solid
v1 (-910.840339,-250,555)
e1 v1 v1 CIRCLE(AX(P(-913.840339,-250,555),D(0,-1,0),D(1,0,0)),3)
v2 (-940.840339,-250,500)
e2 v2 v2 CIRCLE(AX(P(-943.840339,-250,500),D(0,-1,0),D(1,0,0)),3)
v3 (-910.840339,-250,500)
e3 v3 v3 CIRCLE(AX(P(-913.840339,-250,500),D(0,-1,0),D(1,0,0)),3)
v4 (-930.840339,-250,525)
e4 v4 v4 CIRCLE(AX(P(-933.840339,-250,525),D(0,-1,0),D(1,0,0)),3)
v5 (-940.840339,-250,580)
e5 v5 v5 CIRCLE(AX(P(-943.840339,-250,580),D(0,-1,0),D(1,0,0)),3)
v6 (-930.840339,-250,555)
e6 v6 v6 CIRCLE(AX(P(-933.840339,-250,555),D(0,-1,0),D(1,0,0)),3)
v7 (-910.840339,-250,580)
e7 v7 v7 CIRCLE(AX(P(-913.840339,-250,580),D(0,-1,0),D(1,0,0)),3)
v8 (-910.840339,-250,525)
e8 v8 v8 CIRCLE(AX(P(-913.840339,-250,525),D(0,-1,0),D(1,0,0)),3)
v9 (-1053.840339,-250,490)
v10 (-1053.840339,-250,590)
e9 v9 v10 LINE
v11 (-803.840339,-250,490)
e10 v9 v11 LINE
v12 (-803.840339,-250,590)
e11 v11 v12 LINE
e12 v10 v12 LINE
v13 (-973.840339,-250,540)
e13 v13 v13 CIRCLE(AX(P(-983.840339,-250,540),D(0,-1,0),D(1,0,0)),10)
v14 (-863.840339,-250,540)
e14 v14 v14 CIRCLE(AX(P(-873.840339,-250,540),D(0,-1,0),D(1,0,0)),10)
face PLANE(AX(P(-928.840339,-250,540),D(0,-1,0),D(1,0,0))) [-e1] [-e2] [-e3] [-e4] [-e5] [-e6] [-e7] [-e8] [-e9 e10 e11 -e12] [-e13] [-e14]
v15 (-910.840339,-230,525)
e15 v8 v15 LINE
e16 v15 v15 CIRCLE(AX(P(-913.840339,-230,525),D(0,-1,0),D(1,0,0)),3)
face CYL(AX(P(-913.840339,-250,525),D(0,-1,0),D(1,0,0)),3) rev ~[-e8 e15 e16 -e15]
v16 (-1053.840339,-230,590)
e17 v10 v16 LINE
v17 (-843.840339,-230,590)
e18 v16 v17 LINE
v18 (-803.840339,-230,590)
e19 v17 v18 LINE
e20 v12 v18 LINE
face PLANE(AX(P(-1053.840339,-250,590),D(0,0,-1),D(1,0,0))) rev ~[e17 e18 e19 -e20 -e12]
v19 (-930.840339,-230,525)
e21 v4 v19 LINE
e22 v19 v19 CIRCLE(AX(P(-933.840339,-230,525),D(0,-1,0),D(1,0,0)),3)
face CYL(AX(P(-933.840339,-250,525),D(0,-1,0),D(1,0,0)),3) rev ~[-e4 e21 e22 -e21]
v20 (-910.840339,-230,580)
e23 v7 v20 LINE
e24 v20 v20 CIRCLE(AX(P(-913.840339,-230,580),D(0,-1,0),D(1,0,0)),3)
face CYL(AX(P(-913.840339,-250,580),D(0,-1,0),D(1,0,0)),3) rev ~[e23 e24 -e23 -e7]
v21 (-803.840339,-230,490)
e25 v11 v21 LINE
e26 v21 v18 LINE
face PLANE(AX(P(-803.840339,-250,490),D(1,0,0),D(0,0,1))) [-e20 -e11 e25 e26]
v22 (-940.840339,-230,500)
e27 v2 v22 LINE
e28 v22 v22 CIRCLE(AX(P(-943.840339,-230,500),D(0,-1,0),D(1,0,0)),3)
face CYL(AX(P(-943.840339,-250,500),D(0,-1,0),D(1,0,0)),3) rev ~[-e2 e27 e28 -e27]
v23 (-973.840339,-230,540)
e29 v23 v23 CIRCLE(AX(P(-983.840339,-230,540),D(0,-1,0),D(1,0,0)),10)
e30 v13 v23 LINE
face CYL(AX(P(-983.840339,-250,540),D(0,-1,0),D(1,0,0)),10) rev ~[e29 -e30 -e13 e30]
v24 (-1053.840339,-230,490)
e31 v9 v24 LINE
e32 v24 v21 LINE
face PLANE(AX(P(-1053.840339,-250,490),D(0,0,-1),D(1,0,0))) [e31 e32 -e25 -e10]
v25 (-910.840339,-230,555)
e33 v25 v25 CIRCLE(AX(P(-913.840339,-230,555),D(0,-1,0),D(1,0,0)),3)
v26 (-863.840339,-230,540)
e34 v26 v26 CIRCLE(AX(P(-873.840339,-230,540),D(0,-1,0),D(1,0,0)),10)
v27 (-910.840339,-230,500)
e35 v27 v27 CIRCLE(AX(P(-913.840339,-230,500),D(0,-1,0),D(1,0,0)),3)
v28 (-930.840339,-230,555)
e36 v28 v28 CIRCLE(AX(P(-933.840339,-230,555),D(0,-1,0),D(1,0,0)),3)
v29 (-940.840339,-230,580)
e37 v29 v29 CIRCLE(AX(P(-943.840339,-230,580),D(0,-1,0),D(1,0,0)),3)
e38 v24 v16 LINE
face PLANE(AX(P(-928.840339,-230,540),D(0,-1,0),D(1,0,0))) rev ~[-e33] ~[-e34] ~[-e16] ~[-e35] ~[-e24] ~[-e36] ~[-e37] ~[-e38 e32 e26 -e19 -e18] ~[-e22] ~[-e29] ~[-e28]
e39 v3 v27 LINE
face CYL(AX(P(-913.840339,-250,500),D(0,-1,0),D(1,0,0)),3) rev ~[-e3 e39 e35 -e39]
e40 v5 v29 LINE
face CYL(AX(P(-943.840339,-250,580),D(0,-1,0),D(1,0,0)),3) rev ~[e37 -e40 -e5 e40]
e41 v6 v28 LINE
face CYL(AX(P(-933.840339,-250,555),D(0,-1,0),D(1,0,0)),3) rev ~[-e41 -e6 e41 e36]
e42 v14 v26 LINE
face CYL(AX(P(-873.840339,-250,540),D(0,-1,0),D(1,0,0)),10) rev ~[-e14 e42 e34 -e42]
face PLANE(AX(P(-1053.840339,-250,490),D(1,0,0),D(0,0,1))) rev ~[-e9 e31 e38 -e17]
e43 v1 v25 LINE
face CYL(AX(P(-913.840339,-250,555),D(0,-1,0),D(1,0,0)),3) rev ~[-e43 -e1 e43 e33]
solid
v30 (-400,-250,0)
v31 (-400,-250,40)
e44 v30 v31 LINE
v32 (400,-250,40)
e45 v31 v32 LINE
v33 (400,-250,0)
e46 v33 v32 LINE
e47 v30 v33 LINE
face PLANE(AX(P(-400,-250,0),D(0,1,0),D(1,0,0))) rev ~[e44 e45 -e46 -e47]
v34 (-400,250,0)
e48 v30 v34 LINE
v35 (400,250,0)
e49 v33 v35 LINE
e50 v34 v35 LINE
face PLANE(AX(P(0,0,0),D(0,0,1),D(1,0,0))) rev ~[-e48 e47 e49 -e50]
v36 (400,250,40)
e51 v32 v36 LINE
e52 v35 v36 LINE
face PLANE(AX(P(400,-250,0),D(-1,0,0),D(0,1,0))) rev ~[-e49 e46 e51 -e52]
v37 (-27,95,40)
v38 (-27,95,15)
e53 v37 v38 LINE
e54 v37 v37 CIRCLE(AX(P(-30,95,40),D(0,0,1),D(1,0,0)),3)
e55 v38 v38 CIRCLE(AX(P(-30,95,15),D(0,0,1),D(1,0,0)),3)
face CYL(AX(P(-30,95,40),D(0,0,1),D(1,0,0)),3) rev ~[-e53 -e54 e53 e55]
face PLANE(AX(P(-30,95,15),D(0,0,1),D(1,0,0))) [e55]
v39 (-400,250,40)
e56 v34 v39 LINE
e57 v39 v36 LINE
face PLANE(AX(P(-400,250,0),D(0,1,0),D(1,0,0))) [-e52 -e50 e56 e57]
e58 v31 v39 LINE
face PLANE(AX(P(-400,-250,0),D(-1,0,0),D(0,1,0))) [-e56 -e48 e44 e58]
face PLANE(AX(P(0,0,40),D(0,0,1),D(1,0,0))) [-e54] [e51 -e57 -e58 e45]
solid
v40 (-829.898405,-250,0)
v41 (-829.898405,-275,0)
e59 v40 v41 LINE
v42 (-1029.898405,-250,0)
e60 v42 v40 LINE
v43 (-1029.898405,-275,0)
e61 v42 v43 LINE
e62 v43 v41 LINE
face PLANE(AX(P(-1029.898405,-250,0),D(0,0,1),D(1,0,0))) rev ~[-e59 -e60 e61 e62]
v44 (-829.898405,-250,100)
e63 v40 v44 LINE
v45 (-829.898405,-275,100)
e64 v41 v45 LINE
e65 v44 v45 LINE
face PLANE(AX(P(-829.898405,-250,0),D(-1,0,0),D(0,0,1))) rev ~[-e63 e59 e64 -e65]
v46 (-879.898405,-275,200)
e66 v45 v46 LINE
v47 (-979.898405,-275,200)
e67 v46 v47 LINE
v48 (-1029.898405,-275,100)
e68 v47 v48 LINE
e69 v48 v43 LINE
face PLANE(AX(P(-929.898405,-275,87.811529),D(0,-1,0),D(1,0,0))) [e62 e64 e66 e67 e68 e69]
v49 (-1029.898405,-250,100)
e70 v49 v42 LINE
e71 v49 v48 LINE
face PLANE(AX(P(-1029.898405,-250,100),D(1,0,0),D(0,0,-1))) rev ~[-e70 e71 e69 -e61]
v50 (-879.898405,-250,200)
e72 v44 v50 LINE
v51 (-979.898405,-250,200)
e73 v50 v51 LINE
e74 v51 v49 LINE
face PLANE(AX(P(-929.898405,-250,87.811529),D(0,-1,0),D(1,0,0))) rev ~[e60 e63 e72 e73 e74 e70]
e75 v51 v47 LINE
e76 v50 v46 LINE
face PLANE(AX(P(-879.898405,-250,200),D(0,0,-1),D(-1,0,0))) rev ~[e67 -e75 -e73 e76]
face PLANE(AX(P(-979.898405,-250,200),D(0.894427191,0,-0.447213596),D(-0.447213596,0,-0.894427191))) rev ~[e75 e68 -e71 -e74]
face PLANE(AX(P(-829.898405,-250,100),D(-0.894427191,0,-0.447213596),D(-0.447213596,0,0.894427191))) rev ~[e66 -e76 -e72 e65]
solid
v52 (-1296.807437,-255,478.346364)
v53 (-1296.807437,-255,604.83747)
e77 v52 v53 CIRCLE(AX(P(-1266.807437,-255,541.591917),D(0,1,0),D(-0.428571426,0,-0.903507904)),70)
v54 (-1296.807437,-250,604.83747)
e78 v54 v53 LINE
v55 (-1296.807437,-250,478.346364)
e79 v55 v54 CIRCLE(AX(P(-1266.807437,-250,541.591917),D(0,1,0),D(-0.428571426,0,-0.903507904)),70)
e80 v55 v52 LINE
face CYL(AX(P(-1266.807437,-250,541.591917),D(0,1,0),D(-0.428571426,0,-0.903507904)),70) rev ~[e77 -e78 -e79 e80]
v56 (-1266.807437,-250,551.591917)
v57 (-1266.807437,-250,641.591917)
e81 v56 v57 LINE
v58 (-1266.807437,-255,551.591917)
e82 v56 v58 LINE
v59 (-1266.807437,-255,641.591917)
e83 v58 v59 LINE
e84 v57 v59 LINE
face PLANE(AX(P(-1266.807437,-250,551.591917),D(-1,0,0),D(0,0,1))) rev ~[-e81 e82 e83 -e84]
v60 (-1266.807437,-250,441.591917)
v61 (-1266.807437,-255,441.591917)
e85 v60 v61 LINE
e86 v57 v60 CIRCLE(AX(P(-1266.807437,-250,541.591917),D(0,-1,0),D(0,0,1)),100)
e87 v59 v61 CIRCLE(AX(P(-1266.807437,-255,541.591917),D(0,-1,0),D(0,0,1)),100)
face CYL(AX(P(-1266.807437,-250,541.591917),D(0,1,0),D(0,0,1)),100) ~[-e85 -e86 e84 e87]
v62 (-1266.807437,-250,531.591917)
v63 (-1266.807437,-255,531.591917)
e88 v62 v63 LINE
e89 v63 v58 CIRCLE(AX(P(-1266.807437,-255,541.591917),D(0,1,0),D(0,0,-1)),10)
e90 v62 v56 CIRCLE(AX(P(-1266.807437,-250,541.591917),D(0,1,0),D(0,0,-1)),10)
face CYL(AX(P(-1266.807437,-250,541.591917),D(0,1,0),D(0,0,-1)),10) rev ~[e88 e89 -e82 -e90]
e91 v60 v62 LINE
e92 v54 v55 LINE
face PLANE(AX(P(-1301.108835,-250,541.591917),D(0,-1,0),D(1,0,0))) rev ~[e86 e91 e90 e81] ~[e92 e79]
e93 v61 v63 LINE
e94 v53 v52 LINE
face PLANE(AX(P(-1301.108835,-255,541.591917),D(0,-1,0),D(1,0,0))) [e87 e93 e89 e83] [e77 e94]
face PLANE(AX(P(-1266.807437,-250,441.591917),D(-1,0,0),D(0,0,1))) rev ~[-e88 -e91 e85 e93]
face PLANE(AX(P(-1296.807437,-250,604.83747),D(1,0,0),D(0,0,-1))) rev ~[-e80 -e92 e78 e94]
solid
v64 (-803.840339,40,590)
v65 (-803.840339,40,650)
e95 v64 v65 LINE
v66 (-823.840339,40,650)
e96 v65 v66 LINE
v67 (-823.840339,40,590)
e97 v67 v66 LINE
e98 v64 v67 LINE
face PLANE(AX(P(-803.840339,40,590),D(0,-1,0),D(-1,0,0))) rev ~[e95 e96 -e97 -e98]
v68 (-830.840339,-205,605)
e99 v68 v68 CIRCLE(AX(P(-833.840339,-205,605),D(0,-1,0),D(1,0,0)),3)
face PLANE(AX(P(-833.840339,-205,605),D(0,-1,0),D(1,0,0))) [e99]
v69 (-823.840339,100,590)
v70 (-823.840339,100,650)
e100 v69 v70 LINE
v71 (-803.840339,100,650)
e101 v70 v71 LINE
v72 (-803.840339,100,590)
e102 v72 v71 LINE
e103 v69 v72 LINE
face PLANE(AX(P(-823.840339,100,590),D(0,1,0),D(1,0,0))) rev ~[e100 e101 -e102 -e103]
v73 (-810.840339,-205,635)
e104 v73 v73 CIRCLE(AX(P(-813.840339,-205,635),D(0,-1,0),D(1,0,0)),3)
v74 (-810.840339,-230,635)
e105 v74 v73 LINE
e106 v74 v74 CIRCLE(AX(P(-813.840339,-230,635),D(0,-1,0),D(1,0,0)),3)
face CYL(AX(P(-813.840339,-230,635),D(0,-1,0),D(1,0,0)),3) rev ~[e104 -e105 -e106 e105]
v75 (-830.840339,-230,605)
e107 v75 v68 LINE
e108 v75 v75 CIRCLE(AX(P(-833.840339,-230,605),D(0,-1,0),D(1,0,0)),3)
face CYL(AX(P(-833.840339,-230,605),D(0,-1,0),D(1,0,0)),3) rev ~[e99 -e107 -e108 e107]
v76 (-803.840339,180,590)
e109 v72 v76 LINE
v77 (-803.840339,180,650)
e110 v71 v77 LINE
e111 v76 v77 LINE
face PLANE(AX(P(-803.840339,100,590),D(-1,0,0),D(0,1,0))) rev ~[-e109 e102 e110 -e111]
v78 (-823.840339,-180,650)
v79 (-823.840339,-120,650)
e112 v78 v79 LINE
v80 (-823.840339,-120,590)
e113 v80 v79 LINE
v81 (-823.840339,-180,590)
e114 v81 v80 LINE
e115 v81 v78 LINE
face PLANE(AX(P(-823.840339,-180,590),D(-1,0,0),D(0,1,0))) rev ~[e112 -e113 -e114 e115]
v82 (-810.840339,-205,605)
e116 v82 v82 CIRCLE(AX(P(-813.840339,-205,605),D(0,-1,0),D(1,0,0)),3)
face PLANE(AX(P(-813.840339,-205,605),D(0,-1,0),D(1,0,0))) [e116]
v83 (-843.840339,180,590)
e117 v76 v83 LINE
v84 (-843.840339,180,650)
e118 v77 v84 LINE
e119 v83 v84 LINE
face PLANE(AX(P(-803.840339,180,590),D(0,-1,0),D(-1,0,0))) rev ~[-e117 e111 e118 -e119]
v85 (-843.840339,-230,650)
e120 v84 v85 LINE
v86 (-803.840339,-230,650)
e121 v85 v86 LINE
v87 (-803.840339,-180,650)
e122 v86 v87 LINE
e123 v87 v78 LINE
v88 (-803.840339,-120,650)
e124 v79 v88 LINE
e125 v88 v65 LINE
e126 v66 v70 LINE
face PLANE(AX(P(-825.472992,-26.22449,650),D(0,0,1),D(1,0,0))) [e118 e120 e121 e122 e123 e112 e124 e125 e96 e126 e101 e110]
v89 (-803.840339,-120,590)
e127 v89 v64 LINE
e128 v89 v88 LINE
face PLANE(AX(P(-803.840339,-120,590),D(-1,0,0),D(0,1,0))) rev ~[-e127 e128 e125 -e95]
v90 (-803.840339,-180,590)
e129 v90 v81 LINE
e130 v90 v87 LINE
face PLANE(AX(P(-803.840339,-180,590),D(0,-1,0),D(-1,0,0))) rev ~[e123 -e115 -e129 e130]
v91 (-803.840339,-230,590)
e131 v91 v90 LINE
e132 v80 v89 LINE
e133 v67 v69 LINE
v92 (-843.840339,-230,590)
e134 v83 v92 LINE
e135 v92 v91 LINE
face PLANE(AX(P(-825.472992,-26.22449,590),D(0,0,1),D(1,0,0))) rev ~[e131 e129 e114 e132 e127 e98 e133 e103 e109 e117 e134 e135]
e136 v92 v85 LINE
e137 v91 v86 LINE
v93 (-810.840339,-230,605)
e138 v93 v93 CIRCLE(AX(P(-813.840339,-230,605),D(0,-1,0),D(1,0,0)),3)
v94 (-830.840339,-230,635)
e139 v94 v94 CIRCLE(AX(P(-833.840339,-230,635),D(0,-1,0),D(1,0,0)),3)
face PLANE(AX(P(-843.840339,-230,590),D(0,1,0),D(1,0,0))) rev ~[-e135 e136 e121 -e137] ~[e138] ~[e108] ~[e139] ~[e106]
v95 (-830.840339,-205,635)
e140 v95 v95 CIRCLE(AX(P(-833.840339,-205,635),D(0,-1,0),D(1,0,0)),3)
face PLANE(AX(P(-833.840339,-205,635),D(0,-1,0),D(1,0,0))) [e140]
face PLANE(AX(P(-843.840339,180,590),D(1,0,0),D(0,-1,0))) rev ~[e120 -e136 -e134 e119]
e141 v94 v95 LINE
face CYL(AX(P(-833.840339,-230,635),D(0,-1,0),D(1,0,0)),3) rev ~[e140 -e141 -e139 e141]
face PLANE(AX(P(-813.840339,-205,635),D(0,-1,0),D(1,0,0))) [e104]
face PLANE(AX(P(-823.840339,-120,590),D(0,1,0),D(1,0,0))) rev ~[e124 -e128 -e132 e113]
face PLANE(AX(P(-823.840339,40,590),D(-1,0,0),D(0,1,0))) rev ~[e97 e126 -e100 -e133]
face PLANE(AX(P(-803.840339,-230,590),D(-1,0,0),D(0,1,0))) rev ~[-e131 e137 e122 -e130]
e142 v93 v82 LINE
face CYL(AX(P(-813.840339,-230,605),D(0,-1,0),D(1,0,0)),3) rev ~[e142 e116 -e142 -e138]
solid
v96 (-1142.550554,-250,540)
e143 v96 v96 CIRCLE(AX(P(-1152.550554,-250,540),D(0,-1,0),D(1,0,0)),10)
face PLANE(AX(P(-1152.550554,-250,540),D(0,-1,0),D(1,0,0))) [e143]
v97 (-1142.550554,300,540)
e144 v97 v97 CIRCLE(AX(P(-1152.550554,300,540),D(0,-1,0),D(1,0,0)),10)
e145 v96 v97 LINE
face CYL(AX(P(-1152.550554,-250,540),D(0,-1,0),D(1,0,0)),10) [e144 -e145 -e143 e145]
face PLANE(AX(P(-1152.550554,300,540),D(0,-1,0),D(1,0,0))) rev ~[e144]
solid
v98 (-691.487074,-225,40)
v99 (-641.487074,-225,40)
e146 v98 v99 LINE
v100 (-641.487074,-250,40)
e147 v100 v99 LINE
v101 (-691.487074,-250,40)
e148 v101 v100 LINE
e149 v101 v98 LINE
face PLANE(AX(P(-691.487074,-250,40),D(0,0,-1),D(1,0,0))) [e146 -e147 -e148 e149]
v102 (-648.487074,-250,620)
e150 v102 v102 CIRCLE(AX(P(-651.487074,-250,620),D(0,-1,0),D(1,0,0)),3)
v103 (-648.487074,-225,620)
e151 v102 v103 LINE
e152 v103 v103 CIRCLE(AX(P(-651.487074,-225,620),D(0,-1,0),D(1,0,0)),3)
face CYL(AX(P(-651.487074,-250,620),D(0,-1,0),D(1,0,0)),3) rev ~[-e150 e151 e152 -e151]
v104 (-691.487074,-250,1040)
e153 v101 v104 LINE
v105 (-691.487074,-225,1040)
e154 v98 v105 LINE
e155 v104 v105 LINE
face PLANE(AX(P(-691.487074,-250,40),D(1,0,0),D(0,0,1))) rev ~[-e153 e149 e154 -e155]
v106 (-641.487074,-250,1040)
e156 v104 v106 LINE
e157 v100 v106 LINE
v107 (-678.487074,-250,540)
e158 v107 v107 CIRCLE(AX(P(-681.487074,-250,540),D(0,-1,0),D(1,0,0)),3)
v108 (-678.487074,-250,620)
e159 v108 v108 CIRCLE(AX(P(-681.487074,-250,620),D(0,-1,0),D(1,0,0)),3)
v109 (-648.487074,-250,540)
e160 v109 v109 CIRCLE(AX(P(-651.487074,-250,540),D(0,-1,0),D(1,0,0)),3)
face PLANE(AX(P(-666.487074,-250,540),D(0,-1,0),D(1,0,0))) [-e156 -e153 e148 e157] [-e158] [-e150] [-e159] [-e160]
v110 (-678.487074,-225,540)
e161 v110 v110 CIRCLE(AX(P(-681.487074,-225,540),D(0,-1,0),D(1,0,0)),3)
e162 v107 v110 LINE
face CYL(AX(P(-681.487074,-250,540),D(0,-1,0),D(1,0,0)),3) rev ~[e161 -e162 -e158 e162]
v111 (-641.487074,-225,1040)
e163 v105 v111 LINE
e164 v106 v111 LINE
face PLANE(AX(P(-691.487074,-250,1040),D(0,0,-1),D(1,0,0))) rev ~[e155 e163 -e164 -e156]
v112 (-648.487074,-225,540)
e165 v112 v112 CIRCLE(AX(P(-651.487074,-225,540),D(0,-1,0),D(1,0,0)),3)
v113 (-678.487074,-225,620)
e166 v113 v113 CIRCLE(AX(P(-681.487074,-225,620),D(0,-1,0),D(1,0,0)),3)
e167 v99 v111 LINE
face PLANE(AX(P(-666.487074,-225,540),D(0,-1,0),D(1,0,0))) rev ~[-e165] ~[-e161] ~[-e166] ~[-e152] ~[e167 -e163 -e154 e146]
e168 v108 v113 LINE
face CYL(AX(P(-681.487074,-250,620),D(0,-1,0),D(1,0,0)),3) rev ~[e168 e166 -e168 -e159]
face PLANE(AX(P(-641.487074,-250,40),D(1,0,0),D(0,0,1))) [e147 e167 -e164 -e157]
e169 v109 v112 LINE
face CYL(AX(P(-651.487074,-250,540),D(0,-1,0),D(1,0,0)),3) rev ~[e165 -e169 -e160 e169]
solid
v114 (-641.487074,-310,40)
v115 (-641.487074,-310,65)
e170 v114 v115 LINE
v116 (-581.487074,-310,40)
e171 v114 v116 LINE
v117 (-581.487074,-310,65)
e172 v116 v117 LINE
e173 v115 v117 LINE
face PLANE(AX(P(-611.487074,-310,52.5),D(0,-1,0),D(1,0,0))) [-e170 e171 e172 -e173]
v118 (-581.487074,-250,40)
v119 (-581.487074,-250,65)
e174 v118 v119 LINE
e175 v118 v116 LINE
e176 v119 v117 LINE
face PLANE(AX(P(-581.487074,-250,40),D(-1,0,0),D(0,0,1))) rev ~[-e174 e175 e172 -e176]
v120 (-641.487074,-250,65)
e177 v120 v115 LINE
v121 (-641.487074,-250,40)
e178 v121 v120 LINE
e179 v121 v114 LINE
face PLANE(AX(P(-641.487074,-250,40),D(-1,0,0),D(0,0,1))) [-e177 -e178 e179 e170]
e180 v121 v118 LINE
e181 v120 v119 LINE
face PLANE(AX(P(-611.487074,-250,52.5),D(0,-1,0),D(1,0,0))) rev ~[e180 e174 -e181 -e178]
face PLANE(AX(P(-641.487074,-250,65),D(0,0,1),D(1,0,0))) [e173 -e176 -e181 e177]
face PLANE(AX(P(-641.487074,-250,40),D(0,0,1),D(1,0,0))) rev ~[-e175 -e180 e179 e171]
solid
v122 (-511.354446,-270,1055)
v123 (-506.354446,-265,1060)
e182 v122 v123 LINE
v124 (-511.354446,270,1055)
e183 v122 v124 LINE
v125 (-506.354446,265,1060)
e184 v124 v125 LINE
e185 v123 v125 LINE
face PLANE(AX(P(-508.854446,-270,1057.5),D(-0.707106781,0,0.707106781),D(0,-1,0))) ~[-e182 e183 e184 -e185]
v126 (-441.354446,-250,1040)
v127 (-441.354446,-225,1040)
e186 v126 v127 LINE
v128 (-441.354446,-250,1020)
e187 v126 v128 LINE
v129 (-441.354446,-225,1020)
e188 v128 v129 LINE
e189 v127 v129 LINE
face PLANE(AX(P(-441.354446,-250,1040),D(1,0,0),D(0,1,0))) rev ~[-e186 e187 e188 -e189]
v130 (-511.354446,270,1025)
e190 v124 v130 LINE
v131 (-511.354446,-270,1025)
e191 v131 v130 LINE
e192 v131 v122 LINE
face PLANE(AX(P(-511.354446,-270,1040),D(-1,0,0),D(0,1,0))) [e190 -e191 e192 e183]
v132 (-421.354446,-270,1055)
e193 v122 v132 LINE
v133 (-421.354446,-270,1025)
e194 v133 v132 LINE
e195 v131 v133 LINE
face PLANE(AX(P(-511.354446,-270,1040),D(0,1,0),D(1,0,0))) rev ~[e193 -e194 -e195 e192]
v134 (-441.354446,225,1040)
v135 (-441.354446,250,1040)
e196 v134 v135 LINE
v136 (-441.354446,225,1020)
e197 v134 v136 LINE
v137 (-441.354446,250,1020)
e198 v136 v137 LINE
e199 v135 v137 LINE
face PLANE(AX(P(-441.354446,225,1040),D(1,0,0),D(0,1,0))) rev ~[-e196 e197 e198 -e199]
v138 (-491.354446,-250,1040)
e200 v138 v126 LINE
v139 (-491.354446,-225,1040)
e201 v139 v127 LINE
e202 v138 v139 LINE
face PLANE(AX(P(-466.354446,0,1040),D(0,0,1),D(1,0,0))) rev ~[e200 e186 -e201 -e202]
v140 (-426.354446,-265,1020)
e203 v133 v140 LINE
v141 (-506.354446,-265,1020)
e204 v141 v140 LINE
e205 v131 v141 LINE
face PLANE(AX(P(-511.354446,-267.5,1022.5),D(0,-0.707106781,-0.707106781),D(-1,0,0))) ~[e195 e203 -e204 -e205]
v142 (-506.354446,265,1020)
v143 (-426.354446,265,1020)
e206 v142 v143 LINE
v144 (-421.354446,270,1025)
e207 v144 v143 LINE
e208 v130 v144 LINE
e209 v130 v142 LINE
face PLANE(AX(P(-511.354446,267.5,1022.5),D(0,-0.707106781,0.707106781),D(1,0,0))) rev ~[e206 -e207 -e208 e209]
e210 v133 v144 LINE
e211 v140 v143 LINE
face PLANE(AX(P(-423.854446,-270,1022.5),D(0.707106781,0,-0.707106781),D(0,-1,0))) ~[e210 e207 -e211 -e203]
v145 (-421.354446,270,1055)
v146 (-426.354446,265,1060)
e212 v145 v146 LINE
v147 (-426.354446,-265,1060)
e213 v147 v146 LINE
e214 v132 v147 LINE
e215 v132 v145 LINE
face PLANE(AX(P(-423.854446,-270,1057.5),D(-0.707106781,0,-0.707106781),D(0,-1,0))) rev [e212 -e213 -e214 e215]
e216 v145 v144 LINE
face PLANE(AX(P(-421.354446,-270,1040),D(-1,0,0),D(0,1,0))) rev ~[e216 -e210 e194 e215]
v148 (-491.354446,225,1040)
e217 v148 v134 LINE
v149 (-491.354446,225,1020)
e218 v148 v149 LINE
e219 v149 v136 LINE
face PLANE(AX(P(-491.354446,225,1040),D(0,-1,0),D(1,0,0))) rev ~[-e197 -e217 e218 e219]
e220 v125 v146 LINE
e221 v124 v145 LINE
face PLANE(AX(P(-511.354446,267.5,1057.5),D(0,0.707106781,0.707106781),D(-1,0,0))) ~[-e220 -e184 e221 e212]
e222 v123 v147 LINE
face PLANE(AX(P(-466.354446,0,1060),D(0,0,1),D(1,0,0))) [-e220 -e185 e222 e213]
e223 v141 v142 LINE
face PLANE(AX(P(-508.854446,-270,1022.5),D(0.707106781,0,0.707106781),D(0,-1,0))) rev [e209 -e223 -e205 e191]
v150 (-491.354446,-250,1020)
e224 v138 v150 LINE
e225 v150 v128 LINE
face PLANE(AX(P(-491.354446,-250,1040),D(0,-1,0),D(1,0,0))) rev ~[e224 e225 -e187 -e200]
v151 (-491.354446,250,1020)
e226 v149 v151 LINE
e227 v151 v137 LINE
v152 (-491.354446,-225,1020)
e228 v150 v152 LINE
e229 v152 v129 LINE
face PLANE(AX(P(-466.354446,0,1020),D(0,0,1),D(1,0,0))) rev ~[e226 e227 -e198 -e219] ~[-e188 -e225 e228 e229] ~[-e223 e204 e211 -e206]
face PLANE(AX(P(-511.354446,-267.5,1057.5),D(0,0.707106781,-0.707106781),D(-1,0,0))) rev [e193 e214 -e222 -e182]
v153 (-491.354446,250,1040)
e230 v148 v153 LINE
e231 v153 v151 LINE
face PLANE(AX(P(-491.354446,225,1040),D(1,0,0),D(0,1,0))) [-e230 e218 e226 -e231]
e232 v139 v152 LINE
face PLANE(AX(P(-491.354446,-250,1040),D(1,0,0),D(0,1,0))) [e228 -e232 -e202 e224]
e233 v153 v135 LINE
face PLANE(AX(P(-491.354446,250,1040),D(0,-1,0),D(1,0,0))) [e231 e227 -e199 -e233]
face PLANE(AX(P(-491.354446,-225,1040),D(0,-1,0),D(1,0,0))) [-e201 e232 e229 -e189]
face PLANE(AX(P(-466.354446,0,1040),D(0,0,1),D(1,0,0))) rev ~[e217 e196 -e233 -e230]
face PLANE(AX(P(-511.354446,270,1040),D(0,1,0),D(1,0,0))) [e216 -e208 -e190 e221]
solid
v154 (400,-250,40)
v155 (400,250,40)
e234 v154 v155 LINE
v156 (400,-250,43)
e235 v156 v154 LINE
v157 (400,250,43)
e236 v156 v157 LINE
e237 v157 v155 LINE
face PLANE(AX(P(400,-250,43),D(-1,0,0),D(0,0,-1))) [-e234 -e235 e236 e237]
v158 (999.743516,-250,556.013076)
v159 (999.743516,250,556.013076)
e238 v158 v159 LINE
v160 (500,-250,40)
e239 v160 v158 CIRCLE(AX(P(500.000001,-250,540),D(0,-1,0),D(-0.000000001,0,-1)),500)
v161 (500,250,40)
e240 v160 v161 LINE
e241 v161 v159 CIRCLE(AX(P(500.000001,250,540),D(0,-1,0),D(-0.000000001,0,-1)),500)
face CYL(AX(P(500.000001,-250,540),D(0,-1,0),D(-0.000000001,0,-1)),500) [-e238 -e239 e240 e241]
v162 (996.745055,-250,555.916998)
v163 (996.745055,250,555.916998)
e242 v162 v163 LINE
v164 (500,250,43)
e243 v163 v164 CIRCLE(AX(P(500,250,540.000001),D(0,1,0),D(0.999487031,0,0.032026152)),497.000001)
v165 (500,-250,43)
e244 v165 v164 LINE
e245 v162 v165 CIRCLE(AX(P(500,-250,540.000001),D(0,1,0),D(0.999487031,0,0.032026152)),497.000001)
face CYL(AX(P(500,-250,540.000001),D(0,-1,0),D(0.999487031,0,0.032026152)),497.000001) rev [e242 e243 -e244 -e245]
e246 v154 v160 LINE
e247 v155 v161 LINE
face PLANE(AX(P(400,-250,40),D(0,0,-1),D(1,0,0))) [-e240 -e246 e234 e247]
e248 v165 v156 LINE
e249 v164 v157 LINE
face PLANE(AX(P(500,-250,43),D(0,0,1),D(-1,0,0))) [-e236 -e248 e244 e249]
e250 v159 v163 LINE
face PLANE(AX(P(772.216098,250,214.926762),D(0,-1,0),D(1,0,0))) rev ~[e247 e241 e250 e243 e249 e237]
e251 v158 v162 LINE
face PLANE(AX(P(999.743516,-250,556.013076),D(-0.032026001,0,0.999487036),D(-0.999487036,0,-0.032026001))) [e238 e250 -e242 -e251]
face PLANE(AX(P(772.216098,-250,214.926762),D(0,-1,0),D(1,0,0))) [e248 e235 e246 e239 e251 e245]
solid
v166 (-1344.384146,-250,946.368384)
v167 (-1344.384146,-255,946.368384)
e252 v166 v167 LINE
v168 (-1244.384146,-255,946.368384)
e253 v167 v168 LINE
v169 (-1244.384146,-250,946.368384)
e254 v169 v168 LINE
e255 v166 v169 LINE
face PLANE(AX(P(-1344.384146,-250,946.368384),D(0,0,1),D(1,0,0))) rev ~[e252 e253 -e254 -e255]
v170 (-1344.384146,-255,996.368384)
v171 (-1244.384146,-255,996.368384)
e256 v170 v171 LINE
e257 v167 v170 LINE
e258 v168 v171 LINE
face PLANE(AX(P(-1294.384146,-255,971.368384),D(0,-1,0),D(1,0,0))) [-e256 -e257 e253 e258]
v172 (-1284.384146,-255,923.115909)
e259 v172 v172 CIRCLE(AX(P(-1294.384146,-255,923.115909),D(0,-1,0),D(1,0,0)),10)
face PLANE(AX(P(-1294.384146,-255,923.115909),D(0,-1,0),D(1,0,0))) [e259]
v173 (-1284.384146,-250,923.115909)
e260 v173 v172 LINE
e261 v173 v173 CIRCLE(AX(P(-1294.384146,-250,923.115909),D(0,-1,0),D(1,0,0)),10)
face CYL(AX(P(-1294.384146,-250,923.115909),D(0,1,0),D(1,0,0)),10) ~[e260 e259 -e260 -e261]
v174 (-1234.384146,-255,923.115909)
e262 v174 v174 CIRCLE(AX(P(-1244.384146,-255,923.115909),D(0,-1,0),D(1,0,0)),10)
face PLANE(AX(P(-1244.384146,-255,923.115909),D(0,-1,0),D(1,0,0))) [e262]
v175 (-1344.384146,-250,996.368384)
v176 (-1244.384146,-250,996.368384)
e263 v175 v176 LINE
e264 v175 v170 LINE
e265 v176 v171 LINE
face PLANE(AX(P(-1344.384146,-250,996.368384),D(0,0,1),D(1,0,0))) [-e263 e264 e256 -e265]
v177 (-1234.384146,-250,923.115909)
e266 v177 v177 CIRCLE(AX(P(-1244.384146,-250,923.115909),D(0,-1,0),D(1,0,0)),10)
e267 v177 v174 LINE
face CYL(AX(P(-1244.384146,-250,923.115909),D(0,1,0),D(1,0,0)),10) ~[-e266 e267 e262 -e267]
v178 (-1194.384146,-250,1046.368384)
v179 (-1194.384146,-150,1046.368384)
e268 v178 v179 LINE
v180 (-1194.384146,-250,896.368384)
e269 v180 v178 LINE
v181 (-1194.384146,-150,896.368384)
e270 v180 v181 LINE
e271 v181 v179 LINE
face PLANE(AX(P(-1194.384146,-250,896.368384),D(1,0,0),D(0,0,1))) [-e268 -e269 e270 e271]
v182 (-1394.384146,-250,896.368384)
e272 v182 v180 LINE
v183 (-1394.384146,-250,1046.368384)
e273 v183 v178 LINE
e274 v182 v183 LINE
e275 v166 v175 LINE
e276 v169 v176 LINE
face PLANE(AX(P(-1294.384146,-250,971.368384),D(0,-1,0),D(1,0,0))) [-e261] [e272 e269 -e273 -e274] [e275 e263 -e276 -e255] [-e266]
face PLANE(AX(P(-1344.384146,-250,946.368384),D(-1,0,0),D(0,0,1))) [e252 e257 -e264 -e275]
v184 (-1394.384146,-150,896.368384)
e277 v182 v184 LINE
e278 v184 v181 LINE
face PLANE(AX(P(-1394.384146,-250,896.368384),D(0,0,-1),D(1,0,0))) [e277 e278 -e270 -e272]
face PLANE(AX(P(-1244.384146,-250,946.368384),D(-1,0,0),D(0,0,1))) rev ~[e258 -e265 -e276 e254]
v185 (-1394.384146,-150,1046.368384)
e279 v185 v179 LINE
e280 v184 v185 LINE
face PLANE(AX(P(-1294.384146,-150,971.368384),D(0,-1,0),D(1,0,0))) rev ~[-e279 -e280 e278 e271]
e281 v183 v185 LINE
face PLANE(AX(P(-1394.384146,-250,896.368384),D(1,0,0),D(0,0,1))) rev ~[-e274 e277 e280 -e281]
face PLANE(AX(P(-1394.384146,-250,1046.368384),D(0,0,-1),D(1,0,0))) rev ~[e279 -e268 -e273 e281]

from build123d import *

# Parameters (mm, degrees)
F0_W      = 800
F0_H      = 500
F1_DEPTH  = 40
F2_W      = 50
F2_H      = 1000
F2_R      = 3
F3_DEPTH  = 25
F5_DEPTH  = 25
F6_W      = 250
F6_H      = 100
F6_R      = 3
F6_R_2    = 10
F7_DEPTH  = 20
F8_R      = 10
F9_DEPTH  = 550
F11_DEPTH = 60
F12_R     = 3
F13_DEPTH = 25
F14_W     = 60
F14_H     = 25
F15_DEPTH = 60
F16_R     = 3
F17_DEPTH = 25
F18_W     = 90
F18_H     = 540
F18_W_2   = 50
F18_H_2   = 25
F19_DEPTH = 20
F20_DEPTH = 20
F21_SIZE  = 5
F23_DEPTH = 5
F24_W     = 200
F24_H     = 150
F24_R     = 10
F24_W_2   = 100
F24_H_2   = 50
F25_DEPTH = 100
F26_DEPTH = 5
F28_DEPTH = 500


with BuildPart() as f1:
    # F0 (on Top) → F1 (new body)
    with BuildSketch(Plane.XY):
        Rectangle(F0_W, F0_H)
    extrude(amount=F1_DEPTH)

    # F16 (on face) → F17 (cut)
    with BuildSketch(Plane.XY.offset(40)):
        with Locations((-30, 95)):
            Circle(F16_R)
    extrude(amount=-F17_DEPTH, mode=Mode.SUBTRACT)


with BuildPart() as f3:
    # F2 (on face) → F3 (new body)
    with BuildSketch(Plane.XZ.offset(250)):
        with Locations((-666.487074, 540)):
            Rectangle(F2_W, F2_H)
        with Locations((-681.487074, 540)):
            Circle(F2_R, mode=Mode.SUBTRACT)
        with Locations((-651.487074, 540)):
            Circle(F2_R, mode=Mode.SUBTRACT)
        with Locations((-681.487074, 620)):
            Circle(F2_R, mode=Mode.SUBTRACT)
        with Locations((-651.487074, 620)):
            Circle(F2_R, mode=Mode.SUBTRACT)
    extrude(amount=-F3_DEPTH)


with BuildPart() as f5:
    # F4 (on face) → F5 (new body)
    with BuildSketch(Plane.XZ.offset(250)):
        Polygon((-1029.898405, 0), (-829.898405, 0), (-829.898405, 100), (-879.898405, 200), (-979.898405, 200), (-1029.898405, 100), align=None)
    extrude(amount=F5_DEPTH)


with BuildPart() as f7:
    # F6 (on face) → F7 (new body)
    with BuildSketch(Plane.XZ.offset(250)):
        with Locations((-928.840339, 540)):
            Rectangle(F6_W, F6_H)
        with Locations((-943.840339, 500)):
            Circle(F6_R, mode=Mode.SUBTRACT)
        with Locations((-933.840339, 525)):
            Circle(F6_R, mode=Mode.SUBTRACT)
        with Locations((-913.840339, 500)):
            Circle(F6_R, mode=Mode.SUBTRACT)
        with Locations((-913.840339, 525)):
            Circle(F6_R, mode=Mode.SUBTRACT)
        with Locations((-983.840339, 540)):
            Circle(F6_R_2, mode=Mode.SUBTRACT)
        with Locations((-933.840339, 555)):
            Circle(F6_R, mode=Mode.SUBTRACT)
        with Locations((-943.840339, 580)):
            Circle(F6_R, mode=Mode.SUBTRACT)
        with Locations((-913.840339, 555)):
            Circle(F6_R, mode=Mode.SUBTRACT)
        with Locations((-913.840339, 580)):
            Circle(F6_R, mode=Mode.SUBTRACT)
        with Locations((-873.840339, 540)):
            Circle(F6_R_2, mode=Mode.SUBTRACT)
    extrude(amount=-F7_DEPTH)

    # F10 (on face) → F11 (join)
    with BuildSketch(Plane.XY.offset(590)):
        Polygon((-843.840339, -230), (-803.840339, -230), (-803.840339, -180), (-823.840339, -180), (-823.840339, -120), (-803.840339, -120), (-803.840339, 40), (-823.840339, 40), (-823.840339, 100), (-803.840339, 100), (-803.840339, 180), (-843.840339, 180), align=None)
    extrude(amount=F11_DEPTH)

    # F12 (on face) → F13 (cut)
    with BuildSketch(Plane.XZ.offset(230)):
        with Locations((-833.840339, 635)):
            Circle(F12_R)
        with Locations((-813.840339, 635)):
            Circle(F12_R)
        with Locations((-833.840339, 605)):
            Circle(F12_R)
        with Locations((-813.840339, 605)):
            Circle(F12_R)
    extrude(amount=-F13_DEPTH, mode=Mode.SUBTRACT)


with BuildPart() as f9:
    # F8 (on face) → F9 (new body)
    with BuildSketch(Plane.XZ.offset(250)):
        with Locations((-1152.550554, 540)):
            Circle(F8_R)
    extrude(amount=-F9_DEPTH)


with BuildPart() as f15:
    # F14 (on face) → F15 (new body)
    with BuildSketch(Plane.XZ.offset(250)):
        with Locations((-611.487074, 52.5)):
            Rectangle(F14_W, F14_H)
    extrude(amount=F15_DEPTH)


with BuildPart() as f19:
    # F18 (on face) → F19 (new body)
    with BuildSketch(Plane.XY.offset(1040)):
        with Locations((-466.354446, 0)):
            Rectangle(F18_W, F18_H)
        with Locations((-466.354446, -237.5)):
            Rectangle(F18_W_2, F18_H_2, mode=Mode.SUBTRACT)
        with Locations((-466.354446, 237.5)):
            Rectangle(F18_W_2, F18_H_2, mode=Mode.SUBTRACT)
    extrude(amount=-F19_DEPTH)

    # F18 (on face) → F20 (join)
    with BuildSketch(Plane.XY.offset(1040)):
        with Locations((-466.354446, 0)):
            Rectangle(F18_W, F18_H)
        with Locations((-466.354446, -237.5)):
            Rectangle(F18_W_2, F18_H_2, mode=Mode.SUBTRACT)
        with Locations((-466.354446, 237.5)):
            Rectangle(F18_W_2, F18_H_2, mode=Mode.SUBTRACT)
        with Locations((-466.354446, 237.5)):
            Rectangle(F18_W_2, F18_H_2)
        with Locations((-466.354446, -237.5)):
            Rectangle(F18_W_2, F18_H_2)
    extrude(amount=F20_DEPTH)

    # F21
    f21_edges = [f19.edges().sort_by_distance(p)[0] for p in [
        (-511.354446, 0, 1060),
        (-466.354446, 270, 1060),
        (-421.354446, 0, 1060),
        (-466.354446, -270, 1060),
        (-466.354446, -270, 1020),
        (-511.354446, 0, 1020),
        (-421.354446, 0, 1020),
        (-466.354446, 270, 1020),
    ]]
    chamfer(f21_edges, length=F21_SIZE)


with BuildPart() as f23:
    # F22 (on face) → F23 (new body)
    with BuildSketch(Plane.XZ.offset(250)):
        with BuildLine():
            Line((-1266.807437, 551.591917), (-1266.807437, 641.591917))
            ThreePointArc((-1266.807437, 641.591917), (-1366.807437, 541.591917), (-1266.807437, 441.591917))
            Line((-1266.807437, 441.591917), (-1266.807437, 531.591917))
            ThreePointArc((-1266.807437, 531.591917), (-1276.807437, 541.591917), (-1266.807437, 551.591917))
        make_face()
        with BuildLine():
            ThreePointArc((-1296.807437, 478.346364), (-1336.807437, 541.591917), (-1296.807437, 604.83747))
            Line((-1296.807437, 604.83747), (-1296.807437, 478.346364))
        make_face(mode=Mode.SUBTRACT)
    extrude(amount=F23_DEPTH)


with BuildPart() as f25:
    # F24 (on face) → F25 (new body)
    with BuildSketch(Plane.XZ.offset(250)):
        with Locations((-1294.384146, 971.368384)):
            Rectangle(F24_W, F24_H)
        with Locations((-1294.384146, 923.115909)):
            Circle(F24_R, mode=Mode.SUBTRACT)
        with Locations((-1244.384146, 923.115909)):
            Circle(F24_R, mode=Mode.SUBTRACT)
        with Locations((-1294.384146, 971.368384)):
            Rectangle(F24_W_2, F24_H_2, mode=Mode.SUBTRACT)
        with Locations((-1294.384146, 971.368384)):
            Rectangle(F24_W, F24_H)
        with Locations((-1294.384146, 923.115909)):
            Circle(F24_R, mode=Mode.SUBTRACT)
        with Locations((-1294.384146, 971.368384)):
            Rectangle(F24_W_2, F24_H_2, mode=Mode.SUBTRACT)
        with Locations((-1244.384146, 923.115909)):
            Circle(F24_R, mode=Mode.SUBTRACT)
        with Locations((-1294.384146, 971.368384)):
            Rectangle(F24_W_2, F24_H_2)
        with Locations((-1244.384146, 923.115909)):
            Circle(F24_R)
        with Locations((-1294.384146, 923.115909)):
            Circle(F24_R)
    extrude(amount=-F25_DEPTH)

    # F24 (on face) → F26 (join)
    with BuildSketch(Plane.XZ.offset(250)):
        with Locations((-1294.384146, 971.368384)):
            Rectangle(F24_W_2, F24_H_2)
        with Locations((-1294.384146, 923.115909)):
            Circle(F24_R)
        with Locations((-1244.384146, 923.115909)):
            Circle(F24_R)
    extrude(amount=F26_DEPTH)


with BuildPart() as f28:
    # F27 (on face) → F28 (new body)
    with BuildSketch(Plane.XZ.offset(250)):
        with BuildLine():
            Line((400, 43), (400, 40))
            Line((400, 40), (500, 40))
            ThreePointArc((500, 40), (859.170251, 192.154156), (999.743516, 556.013076))
            Line((999.743516, 556.013076), (996.745055, 555.916998))
            ThreePointArc((996.745055, 555.916998), (857.015229, 194.241231), (500, 43))
            Line((500, 43), (400, 43))
        make_face()
    extrude(amount=-F28_DEPTH)


solid = Compound([f1.part, f3.part, f5.part, f7.part, f9.part, f15.part, f19.part, f23.part, f25.part, f28.part])
